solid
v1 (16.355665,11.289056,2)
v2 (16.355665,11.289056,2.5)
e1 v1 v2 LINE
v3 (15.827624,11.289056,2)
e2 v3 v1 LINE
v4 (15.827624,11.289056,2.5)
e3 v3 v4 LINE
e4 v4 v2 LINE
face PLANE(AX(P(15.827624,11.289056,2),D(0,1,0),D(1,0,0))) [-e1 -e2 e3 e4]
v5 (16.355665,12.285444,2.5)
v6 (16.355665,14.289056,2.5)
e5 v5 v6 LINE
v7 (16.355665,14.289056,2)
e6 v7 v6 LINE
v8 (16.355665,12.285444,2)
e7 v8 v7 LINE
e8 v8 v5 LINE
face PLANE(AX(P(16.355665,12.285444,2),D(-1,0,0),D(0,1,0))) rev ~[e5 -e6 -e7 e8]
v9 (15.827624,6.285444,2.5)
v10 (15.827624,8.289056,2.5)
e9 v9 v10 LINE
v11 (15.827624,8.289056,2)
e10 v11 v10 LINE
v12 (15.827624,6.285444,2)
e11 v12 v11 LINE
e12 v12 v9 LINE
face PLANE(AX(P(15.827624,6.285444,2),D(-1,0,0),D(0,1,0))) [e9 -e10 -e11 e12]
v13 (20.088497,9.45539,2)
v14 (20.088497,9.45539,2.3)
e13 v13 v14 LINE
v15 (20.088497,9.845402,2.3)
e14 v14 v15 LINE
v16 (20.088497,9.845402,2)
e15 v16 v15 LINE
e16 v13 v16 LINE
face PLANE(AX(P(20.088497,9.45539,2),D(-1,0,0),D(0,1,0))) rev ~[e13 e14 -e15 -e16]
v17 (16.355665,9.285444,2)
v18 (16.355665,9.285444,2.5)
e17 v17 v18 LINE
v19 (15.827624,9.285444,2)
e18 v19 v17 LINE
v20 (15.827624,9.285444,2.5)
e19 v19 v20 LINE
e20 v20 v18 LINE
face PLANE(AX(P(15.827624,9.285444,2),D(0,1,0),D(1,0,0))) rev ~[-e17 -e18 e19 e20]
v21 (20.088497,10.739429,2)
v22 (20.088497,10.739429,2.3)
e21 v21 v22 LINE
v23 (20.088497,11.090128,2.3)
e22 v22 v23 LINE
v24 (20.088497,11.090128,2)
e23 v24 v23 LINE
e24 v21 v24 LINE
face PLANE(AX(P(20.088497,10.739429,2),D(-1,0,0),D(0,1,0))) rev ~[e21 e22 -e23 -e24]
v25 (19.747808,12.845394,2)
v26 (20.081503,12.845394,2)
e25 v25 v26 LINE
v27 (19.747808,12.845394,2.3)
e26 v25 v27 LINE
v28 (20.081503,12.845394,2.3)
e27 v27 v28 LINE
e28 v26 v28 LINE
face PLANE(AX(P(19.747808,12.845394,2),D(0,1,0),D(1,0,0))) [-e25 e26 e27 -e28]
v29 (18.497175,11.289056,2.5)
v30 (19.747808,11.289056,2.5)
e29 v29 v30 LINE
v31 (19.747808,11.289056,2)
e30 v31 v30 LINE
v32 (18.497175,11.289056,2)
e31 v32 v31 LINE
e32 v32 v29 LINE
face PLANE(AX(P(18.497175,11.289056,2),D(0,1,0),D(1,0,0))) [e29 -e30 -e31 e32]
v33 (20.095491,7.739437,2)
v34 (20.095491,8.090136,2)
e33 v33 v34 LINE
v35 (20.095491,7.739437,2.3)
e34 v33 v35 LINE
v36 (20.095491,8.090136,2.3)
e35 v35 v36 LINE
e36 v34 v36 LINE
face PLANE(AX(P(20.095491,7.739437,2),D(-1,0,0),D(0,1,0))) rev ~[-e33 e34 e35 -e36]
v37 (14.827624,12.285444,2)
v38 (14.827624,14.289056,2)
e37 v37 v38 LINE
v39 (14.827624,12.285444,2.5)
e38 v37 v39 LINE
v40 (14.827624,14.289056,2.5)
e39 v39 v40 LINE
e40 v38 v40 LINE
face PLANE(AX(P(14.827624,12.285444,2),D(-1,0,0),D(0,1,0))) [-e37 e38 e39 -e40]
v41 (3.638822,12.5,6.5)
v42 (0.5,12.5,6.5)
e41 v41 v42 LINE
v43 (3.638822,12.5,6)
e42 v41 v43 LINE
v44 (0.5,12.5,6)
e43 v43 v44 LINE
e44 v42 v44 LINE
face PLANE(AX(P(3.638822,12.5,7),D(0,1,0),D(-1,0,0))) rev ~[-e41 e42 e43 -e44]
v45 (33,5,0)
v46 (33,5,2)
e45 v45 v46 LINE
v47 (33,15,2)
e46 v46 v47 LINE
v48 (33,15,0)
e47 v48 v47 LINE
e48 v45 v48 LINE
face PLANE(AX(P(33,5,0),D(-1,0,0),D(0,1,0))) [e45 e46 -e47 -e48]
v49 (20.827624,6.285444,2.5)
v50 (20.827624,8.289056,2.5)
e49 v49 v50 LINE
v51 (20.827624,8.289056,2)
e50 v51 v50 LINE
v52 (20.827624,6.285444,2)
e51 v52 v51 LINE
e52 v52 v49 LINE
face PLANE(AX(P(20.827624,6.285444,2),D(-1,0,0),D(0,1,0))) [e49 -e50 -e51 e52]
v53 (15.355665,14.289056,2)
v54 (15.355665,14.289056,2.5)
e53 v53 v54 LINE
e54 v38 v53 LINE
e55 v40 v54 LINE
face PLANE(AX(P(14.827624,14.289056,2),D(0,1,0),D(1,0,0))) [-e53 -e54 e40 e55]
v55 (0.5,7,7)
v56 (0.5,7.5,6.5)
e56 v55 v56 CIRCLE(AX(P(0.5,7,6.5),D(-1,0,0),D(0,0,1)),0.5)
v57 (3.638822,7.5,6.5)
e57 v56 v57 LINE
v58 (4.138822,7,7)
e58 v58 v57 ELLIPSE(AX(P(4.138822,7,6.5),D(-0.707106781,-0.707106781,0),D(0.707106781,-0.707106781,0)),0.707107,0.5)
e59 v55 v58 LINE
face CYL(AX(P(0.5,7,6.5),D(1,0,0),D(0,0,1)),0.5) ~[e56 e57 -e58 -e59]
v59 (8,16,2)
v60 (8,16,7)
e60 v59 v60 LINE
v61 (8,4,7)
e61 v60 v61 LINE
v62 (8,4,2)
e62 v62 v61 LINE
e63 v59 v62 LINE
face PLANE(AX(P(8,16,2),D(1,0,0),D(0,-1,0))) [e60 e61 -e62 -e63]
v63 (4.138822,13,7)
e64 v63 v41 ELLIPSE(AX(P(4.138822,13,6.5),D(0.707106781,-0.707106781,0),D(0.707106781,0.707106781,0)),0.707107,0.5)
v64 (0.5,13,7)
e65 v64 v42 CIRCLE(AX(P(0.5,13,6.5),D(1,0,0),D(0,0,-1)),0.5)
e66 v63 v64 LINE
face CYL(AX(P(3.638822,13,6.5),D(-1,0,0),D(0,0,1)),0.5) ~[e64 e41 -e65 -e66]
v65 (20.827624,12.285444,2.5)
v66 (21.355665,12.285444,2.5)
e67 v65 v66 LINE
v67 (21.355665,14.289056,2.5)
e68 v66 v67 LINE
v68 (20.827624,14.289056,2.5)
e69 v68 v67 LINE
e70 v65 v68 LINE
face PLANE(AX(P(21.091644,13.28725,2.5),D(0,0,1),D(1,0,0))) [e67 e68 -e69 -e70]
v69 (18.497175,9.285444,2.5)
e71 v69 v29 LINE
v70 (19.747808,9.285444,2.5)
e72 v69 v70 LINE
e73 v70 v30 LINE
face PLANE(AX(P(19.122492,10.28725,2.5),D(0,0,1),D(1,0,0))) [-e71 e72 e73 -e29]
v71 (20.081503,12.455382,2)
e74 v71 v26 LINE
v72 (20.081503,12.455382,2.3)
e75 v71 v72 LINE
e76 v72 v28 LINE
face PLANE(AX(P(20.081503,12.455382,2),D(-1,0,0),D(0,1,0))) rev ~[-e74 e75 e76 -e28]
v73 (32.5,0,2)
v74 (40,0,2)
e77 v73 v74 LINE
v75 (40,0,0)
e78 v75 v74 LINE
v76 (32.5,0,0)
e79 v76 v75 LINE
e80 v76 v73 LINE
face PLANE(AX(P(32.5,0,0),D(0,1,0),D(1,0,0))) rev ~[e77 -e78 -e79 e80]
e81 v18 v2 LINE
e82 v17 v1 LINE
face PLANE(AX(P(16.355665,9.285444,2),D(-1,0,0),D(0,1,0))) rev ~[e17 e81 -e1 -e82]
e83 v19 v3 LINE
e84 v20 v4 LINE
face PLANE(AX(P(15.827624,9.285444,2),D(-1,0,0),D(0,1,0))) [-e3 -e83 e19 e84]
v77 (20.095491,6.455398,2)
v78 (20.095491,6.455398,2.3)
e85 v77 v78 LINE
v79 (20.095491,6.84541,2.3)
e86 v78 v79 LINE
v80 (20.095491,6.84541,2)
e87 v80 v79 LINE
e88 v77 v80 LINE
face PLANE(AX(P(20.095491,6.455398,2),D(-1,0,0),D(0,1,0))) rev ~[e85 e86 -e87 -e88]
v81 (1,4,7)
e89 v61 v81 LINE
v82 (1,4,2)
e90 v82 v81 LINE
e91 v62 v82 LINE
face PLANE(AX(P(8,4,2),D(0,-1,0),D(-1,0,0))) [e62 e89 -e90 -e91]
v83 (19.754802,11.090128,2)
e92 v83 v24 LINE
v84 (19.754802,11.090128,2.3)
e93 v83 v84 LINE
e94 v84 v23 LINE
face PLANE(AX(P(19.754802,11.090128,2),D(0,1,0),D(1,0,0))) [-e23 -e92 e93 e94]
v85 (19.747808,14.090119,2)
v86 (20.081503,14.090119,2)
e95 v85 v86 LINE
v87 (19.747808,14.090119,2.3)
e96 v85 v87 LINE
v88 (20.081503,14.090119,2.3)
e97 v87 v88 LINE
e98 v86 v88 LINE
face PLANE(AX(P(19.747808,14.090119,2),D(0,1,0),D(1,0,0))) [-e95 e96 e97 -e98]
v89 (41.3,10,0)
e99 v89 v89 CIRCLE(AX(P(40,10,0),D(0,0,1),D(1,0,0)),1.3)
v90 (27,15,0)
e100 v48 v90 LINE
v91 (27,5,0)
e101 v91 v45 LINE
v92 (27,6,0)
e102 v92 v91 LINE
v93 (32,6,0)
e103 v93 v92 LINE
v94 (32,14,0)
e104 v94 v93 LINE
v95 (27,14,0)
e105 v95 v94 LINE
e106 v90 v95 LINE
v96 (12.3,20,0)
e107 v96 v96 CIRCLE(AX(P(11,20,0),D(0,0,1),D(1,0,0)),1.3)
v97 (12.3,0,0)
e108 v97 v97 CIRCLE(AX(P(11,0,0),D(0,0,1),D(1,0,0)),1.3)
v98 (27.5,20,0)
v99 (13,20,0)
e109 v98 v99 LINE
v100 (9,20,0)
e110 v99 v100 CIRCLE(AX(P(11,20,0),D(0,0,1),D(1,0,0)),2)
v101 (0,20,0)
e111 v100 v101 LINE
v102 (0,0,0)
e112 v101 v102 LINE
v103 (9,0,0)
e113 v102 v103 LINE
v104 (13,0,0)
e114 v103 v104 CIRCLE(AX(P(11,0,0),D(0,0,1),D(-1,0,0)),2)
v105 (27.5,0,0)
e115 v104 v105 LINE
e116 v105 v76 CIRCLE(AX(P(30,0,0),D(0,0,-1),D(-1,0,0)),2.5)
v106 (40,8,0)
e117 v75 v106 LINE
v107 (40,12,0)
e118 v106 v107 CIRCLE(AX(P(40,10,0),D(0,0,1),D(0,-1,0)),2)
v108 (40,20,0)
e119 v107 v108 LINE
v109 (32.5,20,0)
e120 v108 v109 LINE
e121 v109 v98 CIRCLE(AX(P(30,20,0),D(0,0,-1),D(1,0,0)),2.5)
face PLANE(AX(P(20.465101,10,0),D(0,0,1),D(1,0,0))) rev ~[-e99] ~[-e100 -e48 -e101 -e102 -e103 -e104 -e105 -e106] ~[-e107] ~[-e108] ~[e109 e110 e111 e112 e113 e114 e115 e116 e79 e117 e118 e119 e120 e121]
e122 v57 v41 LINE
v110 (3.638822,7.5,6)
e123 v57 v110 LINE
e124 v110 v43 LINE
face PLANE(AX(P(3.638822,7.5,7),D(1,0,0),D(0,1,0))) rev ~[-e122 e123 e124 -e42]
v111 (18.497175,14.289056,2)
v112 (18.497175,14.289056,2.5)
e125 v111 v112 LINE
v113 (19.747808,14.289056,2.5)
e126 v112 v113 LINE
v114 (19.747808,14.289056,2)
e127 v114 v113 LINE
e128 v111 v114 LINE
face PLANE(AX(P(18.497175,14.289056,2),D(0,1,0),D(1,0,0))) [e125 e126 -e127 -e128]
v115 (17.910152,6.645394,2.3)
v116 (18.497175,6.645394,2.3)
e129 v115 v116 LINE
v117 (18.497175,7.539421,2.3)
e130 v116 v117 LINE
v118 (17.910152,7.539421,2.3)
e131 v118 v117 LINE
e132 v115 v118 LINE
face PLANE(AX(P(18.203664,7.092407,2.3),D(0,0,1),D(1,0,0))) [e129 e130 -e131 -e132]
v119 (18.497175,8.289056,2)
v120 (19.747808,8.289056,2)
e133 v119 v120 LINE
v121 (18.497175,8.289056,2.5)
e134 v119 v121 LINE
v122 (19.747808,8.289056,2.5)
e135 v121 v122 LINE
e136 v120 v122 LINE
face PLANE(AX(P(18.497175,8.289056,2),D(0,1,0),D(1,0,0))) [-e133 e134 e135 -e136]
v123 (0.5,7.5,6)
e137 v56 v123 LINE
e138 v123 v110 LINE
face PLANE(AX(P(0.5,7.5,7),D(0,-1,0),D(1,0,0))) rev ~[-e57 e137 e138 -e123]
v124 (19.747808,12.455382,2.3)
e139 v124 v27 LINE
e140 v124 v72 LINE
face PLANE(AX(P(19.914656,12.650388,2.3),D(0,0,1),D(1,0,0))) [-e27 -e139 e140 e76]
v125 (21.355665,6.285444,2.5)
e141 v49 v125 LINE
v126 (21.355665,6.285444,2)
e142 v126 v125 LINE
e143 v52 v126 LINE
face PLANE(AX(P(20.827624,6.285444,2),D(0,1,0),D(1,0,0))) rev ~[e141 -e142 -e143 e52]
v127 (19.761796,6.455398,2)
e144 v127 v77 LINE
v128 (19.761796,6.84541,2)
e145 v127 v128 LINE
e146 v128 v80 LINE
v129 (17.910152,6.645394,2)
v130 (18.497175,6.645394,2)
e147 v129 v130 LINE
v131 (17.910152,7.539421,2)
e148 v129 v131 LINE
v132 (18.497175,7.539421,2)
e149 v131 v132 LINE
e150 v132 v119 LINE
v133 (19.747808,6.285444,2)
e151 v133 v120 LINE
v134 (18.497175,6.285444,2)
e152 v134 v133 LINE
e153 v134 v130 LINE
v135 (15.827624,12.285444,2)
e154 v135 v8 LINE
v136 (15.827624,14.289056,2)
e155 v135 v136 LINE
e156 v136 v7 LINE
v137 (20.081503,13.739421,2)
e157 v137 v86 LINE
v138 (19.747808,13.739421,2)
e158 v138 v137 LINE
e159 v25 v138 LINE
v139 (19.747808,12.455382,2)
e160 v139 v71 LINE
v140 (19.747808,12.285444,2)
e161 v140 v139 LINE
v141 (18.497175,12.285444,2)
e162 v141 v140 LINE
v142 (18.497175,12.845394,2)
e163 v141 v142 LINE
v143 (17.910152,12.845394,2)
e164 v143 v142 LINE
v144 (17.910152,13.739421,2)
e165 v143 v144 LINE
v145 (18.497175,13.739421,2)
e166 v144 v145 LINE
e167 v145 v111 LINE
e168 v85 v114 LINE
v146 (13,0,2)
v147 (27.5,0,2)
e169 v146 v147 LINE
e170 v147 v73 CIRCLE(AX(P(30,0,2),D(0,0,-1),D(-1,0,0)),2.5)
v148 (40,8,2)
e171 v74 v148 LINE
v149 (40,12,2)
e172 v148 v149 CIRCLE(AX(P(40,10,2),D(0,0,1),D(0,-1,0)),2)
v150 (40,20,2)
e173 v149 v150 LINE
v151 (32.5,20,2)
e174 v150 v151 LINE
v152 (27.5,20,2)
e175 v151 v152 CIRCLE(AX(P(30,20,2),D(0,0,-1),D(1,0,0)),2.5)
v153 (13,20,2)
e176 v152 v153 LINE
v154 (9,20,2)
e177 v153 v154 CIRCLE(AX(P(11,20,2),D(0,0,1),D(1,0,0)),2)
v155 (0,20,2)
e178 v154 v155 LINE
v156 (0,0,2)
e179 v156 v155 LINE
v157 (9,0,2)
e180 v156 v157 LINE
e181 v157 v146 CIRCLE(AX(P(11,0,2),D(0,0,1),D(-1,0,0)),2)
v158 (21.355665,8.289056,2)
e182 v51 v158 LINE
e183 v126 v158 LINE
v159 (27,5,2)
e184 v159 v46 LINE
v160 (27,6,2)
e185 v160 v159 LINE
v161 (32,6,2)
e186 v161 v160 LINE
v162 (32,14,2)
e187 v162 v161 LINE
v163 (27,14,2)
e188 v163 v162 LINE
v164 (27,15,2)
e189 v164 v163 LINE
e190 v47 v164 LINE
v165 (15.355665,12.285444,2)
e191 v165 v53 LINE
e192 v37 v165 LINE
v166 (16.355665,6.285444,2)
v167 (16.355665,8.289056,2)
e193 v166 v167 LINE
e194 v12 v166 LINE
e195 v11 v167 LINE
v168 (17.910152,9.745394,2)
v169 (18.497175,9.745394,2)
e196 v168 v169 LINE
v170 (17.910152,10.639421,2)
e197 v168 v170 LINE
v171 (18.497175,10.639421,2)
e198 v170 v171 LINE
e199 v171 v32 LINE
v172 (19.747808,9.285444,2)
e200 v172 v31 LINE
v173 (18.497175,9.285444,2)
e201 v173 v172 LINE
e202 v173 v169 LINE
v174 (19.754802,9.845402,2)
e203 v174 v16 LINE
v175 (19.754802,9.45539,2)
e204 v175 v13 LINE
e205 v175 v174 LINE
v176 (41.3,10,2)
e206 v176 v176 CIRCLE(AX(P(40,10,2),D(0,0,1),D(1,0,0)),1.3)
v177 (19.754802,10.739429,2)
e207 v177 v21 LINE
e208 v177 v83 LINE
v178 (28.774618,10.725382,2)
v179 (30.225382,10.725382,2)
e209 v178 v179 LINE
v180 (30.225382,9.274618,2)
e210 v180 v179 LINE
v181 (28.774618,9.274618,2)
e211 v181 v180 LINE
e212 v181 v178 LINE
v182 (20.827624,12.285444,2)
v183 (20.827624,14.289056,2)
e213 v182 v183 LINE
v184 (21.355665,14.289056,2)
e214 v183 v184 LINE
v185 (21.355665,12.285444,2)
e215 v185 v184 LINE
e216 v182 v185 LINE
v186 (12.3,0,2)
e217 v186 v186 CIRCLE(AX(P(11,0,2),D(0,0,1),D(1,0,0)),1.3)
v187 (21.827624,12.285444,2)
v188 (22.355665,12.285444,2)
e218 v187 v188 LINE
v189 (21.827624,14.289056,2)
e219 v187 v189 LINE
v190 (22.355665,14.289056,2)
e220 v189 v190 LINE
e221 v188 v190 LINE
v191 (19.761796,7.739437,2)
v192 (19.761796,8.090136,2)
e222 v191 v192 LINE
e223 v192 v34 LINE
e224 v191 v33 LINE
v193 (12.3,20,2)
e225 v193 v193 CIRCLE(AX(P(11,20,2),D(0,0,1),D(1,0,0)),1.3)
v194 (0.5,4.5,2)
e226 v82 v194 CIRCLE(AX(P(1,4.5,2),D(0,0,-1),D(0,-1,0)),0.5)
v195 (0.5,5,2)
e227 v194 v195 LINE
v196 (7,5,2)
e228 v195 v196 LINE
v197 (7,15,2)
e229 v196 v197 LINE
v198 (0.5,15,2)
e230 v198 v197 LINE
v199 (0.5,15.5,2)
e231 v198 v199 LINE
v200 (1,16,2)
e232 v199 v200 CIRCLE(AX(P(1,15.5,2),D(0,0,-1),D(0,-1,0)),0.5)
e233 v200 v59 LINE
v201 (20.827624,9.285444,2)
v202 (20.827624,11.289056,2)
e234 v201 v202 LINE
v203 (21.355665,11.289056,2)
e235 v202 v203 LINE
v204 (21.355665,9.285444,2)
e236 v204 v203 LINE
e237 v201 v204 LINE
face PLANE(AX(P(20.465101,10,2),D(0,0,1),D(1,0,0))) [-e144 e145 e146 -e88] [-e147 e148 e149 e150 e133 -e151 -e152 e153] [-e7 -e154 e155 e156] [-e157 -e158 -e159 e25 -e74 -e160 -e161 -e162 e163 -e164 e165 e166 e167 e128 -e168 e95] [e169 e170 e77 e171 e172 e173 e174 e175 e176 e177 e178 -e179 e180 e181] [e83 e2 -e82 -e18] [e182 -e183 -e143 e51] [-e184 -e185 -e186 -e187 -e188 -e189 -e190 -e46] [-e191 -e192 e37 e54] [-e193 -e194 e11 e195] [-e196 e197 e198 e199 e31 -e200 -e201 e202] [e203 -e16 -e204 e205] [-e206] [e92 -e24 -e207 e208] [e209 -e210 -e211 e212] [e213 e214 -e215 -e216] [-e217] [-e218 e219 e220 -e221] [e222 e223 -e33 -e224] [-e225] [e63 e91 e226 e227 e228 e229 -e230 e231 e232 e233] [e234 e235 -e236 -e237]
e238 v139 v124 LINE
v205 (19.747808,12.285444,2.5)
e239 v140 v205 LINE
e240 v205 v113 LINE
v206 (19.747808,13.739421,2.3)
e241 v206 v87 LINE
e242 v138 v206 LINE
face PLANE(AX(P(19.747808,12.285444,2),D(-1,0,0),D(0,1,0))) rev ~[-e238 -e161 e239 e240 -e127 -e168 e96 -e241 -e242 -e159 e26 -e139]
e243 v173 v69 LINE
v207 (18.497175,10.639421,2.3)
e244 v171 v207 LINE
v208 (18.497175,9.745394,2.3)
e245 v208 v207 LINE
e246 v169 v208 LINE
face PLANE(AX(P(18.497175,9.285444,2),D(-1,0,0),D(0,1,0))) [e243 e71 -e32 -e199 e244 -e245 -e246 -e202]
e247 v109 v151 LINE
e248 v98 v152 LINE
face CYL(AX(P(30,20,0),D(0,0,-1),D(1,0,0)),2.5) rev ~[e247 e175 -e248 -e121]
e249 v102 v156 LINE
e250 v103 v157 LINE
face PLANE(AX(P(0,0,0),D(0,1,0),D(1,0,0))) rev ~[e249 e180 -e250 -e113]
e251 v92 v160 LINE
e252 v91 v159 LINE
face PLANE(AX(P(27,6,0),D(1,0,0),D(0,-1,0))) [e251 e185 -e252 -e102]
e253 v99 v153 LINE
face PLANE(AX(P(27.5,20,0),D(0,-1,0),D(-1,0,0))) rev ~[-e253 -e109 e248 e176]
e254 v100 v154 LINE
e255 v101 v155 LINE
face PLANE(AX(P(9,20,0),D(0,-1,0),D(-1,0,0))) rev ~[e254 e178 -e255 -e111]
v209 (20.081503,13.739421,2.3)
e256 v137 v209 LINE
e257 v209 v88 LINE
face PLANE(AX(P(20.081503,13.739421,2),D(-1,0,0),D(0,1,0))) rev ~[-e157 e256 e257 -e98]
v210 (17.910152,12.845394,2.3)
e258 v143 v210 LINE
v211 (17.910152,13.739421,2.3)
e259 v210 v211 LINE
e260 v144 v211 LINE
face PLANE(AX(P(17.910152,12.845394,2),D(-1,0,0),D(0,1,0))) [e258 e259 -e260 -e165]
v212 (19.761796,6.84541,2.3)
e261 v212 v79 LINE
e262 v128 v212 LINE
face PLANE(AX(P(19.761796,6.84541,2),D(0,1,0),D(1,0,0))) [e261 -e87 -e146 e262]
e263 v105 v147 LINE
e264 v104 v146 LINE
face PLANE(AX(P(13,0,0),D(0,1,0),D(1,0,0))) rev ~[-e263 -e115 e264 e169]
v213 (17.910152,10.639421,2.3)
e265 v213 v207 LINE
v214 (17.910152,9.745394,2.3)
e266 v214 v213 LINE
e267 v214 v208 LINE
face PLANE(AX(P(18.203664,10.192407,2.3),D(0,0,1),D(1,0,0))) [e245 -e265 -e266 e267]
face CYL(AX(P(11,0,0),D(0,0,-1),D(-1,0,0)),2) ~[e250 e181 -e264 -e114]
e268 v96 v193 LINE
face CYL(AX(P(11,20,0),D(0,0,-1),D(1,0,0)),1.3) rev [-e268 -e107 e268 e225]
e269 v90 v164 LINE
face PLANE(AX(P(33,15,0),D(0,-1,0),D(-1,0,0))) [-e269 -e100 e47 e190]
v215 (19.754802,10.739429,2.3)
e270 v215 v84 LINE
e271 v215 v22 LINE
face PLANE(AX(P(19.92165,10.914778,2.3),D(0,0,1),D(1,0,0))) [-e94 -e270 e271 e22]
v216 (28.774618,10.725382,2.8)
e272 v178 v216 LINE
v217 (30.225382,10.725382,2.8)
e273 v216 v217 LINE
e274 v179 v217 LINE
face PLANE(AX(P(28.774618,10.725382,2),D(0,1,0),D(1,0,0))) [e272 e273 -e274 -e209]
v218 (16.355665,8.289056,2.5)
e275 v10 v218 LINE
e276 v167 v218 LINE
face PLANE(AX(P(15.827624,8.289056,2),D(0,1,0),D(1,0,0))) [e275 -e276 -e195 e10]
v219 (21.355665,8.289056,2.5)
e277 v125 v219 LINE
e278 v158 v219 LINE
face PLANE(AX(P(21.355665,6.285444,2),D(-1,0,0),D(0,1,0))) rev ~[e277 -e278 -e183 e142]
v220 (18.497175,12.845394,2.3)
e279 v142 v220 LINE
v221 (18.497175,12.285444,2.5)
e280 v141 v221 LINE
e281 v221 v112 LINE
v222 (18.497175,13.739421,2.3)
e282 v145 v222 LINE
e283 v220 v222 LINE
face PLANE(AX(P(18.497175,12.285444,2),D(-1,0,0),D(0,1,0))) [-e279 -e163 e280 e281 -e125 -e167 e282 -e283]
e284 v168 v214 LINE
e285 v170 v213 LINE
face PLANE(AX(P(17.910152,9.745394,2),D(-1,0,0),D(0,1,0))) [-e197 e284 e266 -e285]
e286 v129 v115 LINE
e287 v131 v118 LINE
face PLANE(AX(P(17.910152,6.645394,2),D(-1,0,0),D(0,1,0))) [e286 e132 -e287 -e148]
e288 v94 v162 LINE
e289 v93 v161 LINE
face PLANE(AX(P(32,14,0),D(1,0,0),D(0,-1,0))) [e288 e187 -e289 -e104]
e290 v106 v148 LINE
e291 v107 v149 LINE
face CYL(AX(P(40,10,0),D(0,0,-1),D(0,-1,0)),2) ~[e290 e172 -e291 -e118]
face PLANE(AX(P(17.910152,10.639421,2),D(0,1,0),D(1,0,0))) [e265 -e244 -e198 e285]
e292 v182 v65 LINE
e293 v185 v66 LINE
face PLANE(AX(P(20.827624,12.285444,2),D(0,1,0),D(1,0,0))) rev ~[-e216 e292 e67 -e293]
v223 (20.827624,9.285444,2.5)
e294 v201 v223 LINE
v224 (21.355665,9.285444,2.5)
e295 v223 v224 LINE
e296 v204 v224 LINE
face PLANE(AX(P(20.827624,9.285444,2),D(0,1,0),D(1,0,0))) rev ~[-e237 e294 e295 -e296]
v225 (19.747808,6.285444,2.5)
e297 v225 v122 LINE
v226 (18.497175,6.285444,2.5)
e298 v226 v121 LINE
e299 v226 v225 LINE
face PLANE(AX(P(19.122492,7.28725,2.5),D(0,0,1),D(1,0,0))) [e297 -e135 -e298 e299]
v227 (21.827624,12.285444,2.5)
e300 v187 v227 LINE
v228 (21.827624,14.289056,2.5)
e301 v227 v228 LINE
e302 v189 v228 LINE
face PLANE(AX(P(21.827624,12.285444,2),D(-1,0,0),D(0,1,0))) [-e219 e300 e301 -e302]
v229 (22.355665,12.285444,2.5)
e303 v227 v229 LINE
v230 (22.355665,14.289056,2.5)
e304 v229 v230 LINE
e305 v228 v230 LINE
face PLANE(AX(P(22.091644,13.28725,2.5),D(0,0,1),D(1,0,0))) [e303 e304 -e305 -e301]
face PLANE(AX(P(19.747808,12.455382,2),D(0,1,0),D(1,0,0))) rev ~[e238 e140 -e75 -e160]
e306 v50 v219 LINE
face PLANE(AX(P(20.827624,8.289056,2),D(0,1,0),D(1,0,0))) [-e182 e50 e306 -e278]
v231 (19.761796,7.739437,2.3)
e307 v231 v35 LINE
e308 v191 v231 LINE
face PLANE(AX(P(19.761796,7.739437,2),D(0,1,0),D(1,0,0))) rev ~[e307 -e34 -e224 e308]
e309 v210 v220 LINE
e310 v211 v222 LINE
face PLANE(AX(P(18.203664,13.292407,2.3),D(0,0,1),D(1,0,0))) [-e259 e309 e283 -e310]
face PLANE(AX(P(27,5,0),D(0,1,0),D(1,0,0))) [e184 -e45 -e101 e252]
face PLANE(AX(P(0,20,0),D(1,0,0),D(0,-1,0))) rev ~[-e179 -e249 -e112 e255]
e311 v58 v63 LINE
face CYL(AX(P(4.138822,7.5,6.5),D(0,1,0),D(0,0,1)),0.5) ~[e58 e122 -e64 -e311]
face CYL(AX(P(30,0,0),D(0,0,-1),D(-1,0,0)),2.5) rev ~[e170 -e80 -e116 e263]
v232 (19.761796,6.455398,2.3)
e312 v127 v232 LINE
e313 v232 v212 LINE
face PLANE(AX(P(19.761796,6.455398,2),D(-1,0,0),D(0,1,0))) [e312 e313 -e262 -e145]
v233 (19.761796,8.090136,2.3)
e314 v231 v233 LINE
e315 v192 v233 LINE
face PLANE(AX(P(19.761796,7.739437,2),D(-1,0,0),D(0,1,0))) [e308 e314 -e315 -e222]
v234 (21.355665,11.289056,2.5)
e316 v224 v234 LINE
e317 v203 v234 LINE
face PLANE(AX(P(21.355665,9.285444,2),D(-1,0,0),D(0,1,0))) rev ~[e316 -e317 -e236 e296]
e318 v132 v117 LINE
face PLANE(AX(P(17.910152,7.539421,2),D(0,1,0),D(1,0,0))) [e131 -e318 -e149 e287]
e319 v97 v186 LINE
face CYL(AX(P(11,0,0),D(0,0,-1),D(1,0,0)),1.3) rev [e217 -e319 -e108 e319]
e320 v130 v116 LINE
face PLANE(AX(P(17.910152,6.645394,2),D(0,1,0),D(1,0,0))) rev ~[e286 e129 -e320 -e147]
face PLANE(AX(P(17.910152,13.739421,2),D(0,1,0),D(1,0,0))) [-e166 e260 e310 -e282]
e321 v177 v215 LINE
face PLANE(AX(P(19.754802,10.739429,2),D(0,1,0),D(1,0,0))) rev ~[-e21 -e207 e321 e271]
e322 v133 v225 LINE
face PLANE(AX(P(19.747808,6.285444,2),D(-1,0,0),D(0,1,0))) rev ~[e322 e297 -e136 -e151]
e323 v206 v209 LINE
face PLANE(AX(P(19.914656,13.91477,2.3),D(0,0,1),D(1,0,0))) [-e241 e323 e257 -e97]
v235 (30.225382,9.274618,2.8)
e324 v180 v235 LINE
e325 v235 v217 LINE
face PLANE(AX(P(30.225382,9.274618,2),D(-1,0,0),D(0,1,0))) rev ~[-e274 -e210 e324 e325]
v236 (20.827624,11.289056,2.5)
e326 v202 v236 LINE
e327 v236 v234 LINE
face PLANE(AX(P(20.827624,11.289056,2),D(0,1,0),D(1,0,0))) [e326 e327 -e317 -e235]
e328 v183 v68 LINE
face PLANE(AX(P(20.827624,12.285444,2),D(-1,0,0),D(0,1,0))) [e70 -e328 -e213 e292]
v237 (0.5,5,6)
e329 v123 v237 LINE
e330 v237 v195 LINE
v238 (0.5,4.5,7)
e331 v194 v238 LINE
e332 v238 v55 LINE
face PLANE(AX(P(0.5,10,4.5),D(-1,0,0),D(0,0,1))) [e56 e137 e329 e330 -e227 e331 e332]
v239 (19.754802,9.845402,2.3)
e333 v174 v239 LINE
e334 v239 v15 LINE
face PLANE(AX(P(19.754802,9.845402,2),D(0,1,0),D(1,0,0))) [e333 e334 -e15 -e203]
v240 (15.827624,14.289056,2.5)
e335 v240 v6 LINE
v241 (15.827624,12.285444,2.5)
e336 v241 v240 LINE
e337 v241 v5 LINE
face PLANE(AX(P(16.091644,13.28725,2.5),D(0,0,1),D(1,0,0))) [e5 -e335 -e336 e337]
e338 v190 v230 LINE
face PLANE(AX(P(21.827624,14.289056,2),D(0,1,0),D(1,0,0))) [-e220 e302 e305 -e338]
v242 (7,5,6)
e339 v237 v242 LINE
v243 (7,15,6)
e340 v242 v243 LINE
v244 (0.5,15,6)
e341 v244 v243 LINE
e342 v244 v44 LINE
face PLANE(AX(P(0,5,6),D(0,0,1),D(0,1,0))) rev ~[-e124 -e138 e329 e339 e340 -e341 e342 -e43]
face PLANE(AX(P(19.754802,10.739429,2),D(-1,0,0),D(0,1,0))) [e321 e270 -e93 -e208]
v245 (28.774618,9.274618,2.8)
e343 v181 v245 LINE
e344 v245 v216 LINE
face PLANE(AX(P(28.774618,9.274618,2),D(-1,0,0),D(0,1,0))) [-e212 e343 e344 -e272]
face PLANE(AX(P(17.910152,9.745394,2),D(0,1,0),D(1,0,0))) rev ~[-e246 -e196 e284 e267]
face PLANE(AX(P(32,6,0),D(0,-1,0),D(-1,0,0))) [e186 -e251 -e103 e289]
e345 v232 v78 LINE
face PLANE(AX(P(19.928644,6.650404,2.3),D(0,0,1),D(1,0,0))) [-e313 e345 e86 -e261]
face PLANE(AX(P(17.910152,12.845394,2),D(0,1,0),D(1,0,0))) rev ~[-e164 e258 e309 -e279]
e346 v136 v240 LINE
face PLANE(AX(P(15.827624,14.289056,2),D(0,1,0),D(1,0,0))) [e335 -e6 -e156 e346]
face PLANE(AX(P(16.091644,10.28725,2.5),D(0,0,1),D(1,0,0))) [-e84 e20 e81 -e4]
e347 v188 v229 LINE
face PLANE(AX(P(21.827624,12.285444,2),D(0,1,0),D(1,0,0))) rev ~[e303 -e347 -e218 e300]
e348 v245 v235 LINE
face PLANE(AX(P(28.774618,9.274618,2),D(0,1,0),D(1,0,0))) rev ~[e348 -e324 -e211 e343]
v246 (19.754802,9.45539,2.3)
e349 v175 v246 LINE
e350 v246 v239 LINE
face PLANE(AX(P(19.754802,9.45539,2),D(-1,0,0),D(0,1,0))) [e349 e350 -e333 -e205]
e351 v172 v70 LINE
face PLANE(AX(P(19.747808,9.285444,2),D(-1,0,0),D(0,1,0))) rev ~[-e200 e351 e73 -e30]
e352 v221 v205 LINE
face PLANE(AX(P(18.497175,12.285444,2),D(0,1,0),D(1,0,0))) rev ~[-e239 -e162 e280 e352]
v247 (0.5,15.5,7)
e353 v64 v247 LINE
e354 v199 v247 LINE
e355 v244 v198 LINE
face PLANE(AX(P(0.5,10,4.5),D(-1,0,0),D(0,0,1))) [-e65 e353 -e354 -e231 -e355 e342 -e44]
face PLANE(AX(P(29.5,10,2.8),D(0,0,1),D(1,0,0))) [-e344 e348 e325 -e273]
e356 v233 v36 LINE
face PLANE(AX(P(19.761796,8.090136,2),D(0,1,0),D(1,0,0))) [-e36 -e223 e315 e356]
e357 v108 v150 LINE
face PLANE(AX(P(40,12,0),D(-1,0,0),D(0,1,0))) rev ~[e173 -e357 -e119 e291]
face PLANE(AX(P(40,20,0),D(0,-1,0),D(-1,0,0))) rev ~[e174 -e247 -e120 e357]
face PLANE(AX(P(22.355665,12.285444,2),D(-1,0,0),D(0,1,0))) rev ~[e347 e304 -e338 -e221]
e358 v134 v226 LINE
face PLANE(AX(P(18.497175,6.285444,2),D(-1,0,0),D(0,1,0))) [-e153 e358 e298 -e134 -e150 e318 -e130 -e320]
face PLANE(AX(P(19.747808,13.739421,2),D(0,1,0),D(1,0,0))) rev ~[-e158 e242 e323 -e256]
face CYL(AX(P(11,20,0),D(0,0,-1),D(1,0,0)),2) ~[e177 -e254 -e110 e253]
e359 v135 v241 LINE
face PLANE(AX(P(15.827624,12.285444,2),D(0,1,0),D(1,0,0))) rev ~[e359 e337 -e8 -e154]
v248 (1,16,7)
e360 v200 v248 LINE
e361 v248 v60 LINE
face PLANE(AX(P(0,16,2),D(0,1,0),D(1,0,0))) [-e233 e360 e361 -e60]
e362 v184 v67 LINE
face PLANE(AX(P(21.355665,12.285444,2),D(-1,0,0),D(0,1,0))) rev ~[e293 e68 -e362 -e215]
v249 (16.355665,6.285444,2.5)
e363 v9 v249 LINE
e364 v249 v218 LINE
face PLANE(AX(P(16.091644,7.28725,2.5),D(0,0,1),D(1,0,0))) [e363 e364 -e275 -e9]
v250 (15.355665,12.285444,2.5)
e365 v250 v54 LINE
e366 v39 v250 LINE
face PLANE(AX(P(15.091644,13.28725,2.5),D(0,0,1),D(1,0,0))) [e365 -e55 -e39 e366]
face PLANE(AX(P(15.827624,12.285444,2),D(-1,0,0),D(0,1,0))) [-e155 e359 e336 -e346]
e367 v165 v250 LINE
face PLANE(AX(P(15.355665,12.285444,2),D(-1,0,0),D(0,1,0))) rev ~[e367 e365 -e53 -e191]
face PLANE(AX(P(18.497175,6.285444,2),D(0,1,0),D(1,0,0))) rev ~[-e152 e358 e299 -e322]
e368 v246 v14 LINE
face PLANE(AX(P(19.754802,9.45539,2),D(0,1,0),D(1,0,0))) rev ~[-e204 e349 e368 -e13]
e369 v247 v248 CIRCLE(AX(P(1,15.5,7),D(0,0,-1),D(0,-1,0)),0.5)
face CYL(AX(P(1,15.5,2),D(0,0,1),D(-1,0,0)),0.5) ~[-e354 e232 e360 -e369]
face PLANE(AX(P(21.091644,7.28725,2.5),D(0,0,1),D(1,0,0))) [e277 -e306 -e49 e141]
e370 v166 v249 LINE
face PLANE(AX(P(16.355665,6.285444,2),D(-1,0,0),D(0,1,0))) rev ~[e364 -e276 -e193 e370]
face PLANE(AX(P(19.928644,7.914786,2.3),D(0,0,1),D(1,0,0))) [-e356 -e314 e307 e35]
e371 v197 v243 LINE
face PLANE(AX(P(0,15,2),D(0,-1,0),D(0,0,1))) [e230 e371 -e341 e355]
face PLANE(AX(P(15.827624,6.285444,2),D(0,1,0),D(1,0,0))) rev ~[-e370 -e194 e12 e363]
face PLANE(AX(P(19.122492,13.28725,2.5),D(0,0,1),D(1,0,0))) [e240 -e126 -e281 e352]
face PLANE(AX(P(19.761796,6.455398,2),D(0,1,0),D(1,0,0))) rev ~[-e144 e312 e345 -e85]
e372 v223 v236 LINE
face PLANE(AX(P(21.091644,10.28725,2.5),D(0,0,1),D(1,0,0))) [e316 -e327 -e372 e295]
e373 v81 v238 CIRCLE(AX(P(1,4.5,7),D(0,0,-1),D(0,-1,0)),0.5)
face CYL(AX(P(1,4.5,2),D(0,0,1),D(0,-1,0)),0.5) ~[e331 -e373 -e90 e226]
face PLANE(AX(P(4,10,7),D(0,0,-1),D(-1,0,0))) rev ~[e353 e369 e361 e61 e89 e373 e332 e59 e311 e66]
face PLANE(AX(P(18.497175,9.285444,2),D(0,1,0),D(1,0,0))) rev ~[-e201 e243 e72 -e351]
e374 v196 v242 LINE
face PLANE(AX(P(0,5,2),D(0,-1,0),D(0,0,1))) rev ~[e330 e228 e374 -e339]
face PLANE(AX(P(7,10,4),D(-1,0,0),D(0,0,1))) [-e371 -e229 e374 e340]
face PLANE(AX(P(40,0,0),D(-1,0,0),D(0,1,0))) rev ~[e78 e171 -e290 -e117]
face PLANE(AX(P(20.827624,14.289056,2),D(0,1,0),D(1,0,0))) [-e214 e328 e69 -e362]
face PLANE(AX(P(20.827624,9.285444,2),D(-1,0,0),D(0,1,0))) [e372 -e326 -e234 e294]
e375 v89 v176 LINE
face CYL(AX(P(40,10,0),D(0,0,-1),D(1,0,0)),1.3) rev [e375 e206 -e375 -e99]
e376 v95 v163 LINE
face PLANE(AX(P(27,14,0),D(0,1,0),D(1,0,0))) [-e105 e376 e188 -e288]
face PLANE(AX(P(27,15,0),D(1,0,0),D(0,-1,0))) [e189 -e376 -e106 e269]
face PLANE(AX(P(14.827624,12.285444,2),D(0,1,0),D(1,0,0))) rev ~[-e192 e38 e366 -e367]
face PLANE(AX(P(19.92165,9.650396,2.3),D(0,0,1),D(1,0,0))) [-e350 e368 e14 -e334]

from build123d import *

# Parameters (mm, degrees)
SKETCH1_R           = 1.3
BOSS_EXTRUDE1_DEPTH = 2
BOSS_EXTRUDE2_DEPTH = 5
SKETCH3_W           = 4
SKETCH3_H           = 10
CUT_EXTRUDE1_DEPTH  = 7
SKETCH4_W           = 5
SKETCH4_H           = 12
CUT_EXTRUDE2_DEPTH  = 0.5
CUT_EXTRUDE3_DEPTH  = 1.5
FILLET1_R           = 0.5
SKETCH6_W           = 1.450763296
SKETCH6_H           = 1.450763296
BOSS_EXTRUDE3_DEPTH = 0.8
SKETCH7_W           = 0.528041157
SKETCH7_H           = 2.003611801
BOSS_EXTRUDE4_DEPTH = 0.5
SKETCH8_W           = 1.250632541
SKETCH8_H           = 2.003611801
BOSS_EXTRUDE5_DEPTH = 0.5
SKETCH9_W           = 0.587023474
SKETCH9_H           = 0.894026868
SKETCH9_W_2         = 0.333695167
SKETCH9_H_2         = 0.350698787
SKETCH9_W_3         = 0.333695166
SKETCH9_H_3         = 0.390012219
SKETCH9_H_4         = 0.39001222
SKETCH9_H_5         = 0.350698788
BOSS_EXTRUDE6_DEPTH = 0.3


with BuildPart() as part:
    # Sketch1 → Boss-Extrude1 (new body)
    with BuildSketch(Plane.XY):
        with BuildLine():
            Line((0, 0), (9, 0))
            ThreePointArc((9, 0), (11, -2), (13, 0))
            Line((13, 0), (27.5, 0))
            ThreePointArc((27.5, 0), (30, 2.5), (32.5, 0))
            Line((32.5, 0), (40, 0))
            Line((40, 0), (40, 8))
            ThreePointArc((40, 8), (42, 10), (40, 12))
            Line((40, 12), (40, 20))
            Line((40, 20), (32.5, 20))
            ThreePointArc((32.5, 20), (30, 17.5), (27.5, 20))
            Line((27.5, 20), (13, 20))
            ThreePointArc((13, 20), (11, 22), (9, 20))
            Line((9, 20), (0, 20))
            Line((0, 20), (0, 0))
        make_face()
        with Locations((11, 20)):
            Circle(SKETCH1_R, mode=Mode.SUBTRACT)
        with Locations((11, 0)):
            Circle(SKETCH1_R, mode=Mode.SUBTRACT)
        with Locations((40, 10)):
            Circle(SKETCH1_R, mode=Mode.SUBTRACT)
        Polygon((33, 15), (27, 15), (27, 14), (32, 14), (32, 6), (27, 6), (27, 5), (33, 5), align=None, mode=Mode.SUBTRACT)
    extrude(amount=BOSS_EXTRUDE1_DEPTH)

    # Sketch2 → Boss-Extrude2 (add)
    with BuildSketch(Plane.XY.offset(2)):
        Polygon((0, 10), (0, 16), (8, 16), (8, 4), (0, 4), align=None)
    extrude(amount=BOSS_EXTRUDE2_DEPTH)

    # Sketch3 → Cut-Extrude1 (cut)
    with BuildSketch(Plane.ZY):
        with Locations((4, 10)):
            Rectangle(SKETCH3_W, SKETCH3_H)
    extrude(amount=-CUT_EXTRUDE1_DEPTH, mode=Mode.SUBTRACT)

    # Sketch4 → Cut-Extrude2 (cut)
    with BuildSketch(Plane.ZY):
        with Locations((4.5, 10)):
            Rectangle(SKETCH4_W, SKETCH4_H)
    extrude(amount=-CUT_EXTRUDE2_DEPTH, mode=Mode.SUBTRACT)

    # Sketch5 → Cut-Extrude3 (cut)
    with BuildSketch(Plane.XY.offset(7)):
        Polygon((3.638822155, 12.5), (0.5, 12.5), (0.5, 10), (0.5, 7.5), (3.638822155, 7.5), align=None)
    extrude(amount=-CUT_EXTRUDE3_DEPTH, mode=Mode.SUBTRACT)

    # Fillet1
    fillet1_edges = [part.edges().sort_by_distance(p)[0] for p in [
        (0.5, 4, 4.5),
        (0.5, 16, 4.5),
        (2.069411077, 7.5, 7),
        (3.638822155, 10, 7),
        (2.069411077, 12.5, 7),
    ]]
    fillet(fillet1_edges, radius=FILLET1_R)

    # Sketch6 → Boss-Extrude3 (add)
    with BuildSketch(Plane.XY.offset(2)):
        with Locations((29.5, 10)):
            Rectangle(SKETCH6_W, SKETCH6_H)
    extrude(amount=BOSS_EXTRUDE3_DEPTH)

    # Sketch7 → Boss-Extrude4 (add)
    with BuildSketch(Plane.XY.offset(2)):
        with Locations((16.091644497, 13.2872497)):
            Rectangle(SKETCH7_W, SKETCH7_H)
        with Locations((15.091644497, 13.2872497)):
            Rectangle(SKETCH7_W, SKETCH7_H)
        with Locations((16.091644497, 10.2872497)):
            Rectangle(SKETCH7_W, SKETCH7_H)
        with Locations((16.091644497, 7.2872497)):
            Rectangle(SKETCH7_W, SKETCH7_H)
        with Locations((22.091644497, 13.2872497)):
            Rectangle(SKETCH7_W, SKETCH7_H)
        with Locations((21.091644497, 13.2872497)):
            Rectangle(SKETCH7_W, SKETCH7_H)
        with Locations((21.091644497, 10.2872497)):
            Rectangle(SKETCH7_W, SKETCH7_H)
        with Locations((21.091644497, 7.2872497)):
            Rectangle(SKETCH7_W, SKETCH7_H)
    extrude(amount=BOSS_EXTRUDE4_DEPTH)

    # Sketch8 → Boss-Extrude5 (add)
    with BuildSketch(Plane.XY.offset(2)):
        with Locations((19.1224917, 10.2872497)):
            Rectangle(SKETCH8_W, SKETCH8_H)
        with Locations((19.1224917, 13.2872497)):
            Rectangle(SKETCH8_W, SKETCH8_H)
        with Locations((19.1224917, 7.2872497)):
            Rectangle(SKETCH8_W, SKETCH8_H)
    extrude(amount=BOSS_EXTRUDE5_DEPTH)

    # Sketch9 → Boss-Extrude6 (add)
    with BuildSketch(Plane.XY.offset(2)):
        with Locations((18.203663692, 13.292407159)):
            Rectangle(SKETCH9_W, SKETCH9_H)
        with Locations((18.203663692, 10.192407159)):
            Rectangle(SKETCH9_W, SKETCH9_H)
        with Locations((18.203663692, 7.092407159)):
            Rectangle(SKETCH9_W, SKETCH9_H)
        with Locations((19.914655554, 13.914769987)):
            Rectangle(SKETCH9_W_2, SKETCH9_H_2)
        with Locations((19.921649724, 9.650395769)):
            Rectangle(SKETCH9_W_3, SKETCH9_H_3)
        with Locations((19.914655554, 12.650387615)):
            Rectangle(SKETCH9_W_2, SKETCH9_H_4)
        with Locations((19.921649724, 10.91477814)):
            Rectangle(SKETCH9_W_3, SKETCH9_H_5)
        with Locations((19.928643894, 6.650403922)):
            Rectangle(SKETCH9_W_3, SKETCH9_H_3)
        with Locations((19.928643894, 7.914786293)):
            Rectangle(SKETCH9_W_3, SKETCH9_H_5)
    extrude(amount=BOSS_EXTRUDE6_DEPTH)


solid = part.part
